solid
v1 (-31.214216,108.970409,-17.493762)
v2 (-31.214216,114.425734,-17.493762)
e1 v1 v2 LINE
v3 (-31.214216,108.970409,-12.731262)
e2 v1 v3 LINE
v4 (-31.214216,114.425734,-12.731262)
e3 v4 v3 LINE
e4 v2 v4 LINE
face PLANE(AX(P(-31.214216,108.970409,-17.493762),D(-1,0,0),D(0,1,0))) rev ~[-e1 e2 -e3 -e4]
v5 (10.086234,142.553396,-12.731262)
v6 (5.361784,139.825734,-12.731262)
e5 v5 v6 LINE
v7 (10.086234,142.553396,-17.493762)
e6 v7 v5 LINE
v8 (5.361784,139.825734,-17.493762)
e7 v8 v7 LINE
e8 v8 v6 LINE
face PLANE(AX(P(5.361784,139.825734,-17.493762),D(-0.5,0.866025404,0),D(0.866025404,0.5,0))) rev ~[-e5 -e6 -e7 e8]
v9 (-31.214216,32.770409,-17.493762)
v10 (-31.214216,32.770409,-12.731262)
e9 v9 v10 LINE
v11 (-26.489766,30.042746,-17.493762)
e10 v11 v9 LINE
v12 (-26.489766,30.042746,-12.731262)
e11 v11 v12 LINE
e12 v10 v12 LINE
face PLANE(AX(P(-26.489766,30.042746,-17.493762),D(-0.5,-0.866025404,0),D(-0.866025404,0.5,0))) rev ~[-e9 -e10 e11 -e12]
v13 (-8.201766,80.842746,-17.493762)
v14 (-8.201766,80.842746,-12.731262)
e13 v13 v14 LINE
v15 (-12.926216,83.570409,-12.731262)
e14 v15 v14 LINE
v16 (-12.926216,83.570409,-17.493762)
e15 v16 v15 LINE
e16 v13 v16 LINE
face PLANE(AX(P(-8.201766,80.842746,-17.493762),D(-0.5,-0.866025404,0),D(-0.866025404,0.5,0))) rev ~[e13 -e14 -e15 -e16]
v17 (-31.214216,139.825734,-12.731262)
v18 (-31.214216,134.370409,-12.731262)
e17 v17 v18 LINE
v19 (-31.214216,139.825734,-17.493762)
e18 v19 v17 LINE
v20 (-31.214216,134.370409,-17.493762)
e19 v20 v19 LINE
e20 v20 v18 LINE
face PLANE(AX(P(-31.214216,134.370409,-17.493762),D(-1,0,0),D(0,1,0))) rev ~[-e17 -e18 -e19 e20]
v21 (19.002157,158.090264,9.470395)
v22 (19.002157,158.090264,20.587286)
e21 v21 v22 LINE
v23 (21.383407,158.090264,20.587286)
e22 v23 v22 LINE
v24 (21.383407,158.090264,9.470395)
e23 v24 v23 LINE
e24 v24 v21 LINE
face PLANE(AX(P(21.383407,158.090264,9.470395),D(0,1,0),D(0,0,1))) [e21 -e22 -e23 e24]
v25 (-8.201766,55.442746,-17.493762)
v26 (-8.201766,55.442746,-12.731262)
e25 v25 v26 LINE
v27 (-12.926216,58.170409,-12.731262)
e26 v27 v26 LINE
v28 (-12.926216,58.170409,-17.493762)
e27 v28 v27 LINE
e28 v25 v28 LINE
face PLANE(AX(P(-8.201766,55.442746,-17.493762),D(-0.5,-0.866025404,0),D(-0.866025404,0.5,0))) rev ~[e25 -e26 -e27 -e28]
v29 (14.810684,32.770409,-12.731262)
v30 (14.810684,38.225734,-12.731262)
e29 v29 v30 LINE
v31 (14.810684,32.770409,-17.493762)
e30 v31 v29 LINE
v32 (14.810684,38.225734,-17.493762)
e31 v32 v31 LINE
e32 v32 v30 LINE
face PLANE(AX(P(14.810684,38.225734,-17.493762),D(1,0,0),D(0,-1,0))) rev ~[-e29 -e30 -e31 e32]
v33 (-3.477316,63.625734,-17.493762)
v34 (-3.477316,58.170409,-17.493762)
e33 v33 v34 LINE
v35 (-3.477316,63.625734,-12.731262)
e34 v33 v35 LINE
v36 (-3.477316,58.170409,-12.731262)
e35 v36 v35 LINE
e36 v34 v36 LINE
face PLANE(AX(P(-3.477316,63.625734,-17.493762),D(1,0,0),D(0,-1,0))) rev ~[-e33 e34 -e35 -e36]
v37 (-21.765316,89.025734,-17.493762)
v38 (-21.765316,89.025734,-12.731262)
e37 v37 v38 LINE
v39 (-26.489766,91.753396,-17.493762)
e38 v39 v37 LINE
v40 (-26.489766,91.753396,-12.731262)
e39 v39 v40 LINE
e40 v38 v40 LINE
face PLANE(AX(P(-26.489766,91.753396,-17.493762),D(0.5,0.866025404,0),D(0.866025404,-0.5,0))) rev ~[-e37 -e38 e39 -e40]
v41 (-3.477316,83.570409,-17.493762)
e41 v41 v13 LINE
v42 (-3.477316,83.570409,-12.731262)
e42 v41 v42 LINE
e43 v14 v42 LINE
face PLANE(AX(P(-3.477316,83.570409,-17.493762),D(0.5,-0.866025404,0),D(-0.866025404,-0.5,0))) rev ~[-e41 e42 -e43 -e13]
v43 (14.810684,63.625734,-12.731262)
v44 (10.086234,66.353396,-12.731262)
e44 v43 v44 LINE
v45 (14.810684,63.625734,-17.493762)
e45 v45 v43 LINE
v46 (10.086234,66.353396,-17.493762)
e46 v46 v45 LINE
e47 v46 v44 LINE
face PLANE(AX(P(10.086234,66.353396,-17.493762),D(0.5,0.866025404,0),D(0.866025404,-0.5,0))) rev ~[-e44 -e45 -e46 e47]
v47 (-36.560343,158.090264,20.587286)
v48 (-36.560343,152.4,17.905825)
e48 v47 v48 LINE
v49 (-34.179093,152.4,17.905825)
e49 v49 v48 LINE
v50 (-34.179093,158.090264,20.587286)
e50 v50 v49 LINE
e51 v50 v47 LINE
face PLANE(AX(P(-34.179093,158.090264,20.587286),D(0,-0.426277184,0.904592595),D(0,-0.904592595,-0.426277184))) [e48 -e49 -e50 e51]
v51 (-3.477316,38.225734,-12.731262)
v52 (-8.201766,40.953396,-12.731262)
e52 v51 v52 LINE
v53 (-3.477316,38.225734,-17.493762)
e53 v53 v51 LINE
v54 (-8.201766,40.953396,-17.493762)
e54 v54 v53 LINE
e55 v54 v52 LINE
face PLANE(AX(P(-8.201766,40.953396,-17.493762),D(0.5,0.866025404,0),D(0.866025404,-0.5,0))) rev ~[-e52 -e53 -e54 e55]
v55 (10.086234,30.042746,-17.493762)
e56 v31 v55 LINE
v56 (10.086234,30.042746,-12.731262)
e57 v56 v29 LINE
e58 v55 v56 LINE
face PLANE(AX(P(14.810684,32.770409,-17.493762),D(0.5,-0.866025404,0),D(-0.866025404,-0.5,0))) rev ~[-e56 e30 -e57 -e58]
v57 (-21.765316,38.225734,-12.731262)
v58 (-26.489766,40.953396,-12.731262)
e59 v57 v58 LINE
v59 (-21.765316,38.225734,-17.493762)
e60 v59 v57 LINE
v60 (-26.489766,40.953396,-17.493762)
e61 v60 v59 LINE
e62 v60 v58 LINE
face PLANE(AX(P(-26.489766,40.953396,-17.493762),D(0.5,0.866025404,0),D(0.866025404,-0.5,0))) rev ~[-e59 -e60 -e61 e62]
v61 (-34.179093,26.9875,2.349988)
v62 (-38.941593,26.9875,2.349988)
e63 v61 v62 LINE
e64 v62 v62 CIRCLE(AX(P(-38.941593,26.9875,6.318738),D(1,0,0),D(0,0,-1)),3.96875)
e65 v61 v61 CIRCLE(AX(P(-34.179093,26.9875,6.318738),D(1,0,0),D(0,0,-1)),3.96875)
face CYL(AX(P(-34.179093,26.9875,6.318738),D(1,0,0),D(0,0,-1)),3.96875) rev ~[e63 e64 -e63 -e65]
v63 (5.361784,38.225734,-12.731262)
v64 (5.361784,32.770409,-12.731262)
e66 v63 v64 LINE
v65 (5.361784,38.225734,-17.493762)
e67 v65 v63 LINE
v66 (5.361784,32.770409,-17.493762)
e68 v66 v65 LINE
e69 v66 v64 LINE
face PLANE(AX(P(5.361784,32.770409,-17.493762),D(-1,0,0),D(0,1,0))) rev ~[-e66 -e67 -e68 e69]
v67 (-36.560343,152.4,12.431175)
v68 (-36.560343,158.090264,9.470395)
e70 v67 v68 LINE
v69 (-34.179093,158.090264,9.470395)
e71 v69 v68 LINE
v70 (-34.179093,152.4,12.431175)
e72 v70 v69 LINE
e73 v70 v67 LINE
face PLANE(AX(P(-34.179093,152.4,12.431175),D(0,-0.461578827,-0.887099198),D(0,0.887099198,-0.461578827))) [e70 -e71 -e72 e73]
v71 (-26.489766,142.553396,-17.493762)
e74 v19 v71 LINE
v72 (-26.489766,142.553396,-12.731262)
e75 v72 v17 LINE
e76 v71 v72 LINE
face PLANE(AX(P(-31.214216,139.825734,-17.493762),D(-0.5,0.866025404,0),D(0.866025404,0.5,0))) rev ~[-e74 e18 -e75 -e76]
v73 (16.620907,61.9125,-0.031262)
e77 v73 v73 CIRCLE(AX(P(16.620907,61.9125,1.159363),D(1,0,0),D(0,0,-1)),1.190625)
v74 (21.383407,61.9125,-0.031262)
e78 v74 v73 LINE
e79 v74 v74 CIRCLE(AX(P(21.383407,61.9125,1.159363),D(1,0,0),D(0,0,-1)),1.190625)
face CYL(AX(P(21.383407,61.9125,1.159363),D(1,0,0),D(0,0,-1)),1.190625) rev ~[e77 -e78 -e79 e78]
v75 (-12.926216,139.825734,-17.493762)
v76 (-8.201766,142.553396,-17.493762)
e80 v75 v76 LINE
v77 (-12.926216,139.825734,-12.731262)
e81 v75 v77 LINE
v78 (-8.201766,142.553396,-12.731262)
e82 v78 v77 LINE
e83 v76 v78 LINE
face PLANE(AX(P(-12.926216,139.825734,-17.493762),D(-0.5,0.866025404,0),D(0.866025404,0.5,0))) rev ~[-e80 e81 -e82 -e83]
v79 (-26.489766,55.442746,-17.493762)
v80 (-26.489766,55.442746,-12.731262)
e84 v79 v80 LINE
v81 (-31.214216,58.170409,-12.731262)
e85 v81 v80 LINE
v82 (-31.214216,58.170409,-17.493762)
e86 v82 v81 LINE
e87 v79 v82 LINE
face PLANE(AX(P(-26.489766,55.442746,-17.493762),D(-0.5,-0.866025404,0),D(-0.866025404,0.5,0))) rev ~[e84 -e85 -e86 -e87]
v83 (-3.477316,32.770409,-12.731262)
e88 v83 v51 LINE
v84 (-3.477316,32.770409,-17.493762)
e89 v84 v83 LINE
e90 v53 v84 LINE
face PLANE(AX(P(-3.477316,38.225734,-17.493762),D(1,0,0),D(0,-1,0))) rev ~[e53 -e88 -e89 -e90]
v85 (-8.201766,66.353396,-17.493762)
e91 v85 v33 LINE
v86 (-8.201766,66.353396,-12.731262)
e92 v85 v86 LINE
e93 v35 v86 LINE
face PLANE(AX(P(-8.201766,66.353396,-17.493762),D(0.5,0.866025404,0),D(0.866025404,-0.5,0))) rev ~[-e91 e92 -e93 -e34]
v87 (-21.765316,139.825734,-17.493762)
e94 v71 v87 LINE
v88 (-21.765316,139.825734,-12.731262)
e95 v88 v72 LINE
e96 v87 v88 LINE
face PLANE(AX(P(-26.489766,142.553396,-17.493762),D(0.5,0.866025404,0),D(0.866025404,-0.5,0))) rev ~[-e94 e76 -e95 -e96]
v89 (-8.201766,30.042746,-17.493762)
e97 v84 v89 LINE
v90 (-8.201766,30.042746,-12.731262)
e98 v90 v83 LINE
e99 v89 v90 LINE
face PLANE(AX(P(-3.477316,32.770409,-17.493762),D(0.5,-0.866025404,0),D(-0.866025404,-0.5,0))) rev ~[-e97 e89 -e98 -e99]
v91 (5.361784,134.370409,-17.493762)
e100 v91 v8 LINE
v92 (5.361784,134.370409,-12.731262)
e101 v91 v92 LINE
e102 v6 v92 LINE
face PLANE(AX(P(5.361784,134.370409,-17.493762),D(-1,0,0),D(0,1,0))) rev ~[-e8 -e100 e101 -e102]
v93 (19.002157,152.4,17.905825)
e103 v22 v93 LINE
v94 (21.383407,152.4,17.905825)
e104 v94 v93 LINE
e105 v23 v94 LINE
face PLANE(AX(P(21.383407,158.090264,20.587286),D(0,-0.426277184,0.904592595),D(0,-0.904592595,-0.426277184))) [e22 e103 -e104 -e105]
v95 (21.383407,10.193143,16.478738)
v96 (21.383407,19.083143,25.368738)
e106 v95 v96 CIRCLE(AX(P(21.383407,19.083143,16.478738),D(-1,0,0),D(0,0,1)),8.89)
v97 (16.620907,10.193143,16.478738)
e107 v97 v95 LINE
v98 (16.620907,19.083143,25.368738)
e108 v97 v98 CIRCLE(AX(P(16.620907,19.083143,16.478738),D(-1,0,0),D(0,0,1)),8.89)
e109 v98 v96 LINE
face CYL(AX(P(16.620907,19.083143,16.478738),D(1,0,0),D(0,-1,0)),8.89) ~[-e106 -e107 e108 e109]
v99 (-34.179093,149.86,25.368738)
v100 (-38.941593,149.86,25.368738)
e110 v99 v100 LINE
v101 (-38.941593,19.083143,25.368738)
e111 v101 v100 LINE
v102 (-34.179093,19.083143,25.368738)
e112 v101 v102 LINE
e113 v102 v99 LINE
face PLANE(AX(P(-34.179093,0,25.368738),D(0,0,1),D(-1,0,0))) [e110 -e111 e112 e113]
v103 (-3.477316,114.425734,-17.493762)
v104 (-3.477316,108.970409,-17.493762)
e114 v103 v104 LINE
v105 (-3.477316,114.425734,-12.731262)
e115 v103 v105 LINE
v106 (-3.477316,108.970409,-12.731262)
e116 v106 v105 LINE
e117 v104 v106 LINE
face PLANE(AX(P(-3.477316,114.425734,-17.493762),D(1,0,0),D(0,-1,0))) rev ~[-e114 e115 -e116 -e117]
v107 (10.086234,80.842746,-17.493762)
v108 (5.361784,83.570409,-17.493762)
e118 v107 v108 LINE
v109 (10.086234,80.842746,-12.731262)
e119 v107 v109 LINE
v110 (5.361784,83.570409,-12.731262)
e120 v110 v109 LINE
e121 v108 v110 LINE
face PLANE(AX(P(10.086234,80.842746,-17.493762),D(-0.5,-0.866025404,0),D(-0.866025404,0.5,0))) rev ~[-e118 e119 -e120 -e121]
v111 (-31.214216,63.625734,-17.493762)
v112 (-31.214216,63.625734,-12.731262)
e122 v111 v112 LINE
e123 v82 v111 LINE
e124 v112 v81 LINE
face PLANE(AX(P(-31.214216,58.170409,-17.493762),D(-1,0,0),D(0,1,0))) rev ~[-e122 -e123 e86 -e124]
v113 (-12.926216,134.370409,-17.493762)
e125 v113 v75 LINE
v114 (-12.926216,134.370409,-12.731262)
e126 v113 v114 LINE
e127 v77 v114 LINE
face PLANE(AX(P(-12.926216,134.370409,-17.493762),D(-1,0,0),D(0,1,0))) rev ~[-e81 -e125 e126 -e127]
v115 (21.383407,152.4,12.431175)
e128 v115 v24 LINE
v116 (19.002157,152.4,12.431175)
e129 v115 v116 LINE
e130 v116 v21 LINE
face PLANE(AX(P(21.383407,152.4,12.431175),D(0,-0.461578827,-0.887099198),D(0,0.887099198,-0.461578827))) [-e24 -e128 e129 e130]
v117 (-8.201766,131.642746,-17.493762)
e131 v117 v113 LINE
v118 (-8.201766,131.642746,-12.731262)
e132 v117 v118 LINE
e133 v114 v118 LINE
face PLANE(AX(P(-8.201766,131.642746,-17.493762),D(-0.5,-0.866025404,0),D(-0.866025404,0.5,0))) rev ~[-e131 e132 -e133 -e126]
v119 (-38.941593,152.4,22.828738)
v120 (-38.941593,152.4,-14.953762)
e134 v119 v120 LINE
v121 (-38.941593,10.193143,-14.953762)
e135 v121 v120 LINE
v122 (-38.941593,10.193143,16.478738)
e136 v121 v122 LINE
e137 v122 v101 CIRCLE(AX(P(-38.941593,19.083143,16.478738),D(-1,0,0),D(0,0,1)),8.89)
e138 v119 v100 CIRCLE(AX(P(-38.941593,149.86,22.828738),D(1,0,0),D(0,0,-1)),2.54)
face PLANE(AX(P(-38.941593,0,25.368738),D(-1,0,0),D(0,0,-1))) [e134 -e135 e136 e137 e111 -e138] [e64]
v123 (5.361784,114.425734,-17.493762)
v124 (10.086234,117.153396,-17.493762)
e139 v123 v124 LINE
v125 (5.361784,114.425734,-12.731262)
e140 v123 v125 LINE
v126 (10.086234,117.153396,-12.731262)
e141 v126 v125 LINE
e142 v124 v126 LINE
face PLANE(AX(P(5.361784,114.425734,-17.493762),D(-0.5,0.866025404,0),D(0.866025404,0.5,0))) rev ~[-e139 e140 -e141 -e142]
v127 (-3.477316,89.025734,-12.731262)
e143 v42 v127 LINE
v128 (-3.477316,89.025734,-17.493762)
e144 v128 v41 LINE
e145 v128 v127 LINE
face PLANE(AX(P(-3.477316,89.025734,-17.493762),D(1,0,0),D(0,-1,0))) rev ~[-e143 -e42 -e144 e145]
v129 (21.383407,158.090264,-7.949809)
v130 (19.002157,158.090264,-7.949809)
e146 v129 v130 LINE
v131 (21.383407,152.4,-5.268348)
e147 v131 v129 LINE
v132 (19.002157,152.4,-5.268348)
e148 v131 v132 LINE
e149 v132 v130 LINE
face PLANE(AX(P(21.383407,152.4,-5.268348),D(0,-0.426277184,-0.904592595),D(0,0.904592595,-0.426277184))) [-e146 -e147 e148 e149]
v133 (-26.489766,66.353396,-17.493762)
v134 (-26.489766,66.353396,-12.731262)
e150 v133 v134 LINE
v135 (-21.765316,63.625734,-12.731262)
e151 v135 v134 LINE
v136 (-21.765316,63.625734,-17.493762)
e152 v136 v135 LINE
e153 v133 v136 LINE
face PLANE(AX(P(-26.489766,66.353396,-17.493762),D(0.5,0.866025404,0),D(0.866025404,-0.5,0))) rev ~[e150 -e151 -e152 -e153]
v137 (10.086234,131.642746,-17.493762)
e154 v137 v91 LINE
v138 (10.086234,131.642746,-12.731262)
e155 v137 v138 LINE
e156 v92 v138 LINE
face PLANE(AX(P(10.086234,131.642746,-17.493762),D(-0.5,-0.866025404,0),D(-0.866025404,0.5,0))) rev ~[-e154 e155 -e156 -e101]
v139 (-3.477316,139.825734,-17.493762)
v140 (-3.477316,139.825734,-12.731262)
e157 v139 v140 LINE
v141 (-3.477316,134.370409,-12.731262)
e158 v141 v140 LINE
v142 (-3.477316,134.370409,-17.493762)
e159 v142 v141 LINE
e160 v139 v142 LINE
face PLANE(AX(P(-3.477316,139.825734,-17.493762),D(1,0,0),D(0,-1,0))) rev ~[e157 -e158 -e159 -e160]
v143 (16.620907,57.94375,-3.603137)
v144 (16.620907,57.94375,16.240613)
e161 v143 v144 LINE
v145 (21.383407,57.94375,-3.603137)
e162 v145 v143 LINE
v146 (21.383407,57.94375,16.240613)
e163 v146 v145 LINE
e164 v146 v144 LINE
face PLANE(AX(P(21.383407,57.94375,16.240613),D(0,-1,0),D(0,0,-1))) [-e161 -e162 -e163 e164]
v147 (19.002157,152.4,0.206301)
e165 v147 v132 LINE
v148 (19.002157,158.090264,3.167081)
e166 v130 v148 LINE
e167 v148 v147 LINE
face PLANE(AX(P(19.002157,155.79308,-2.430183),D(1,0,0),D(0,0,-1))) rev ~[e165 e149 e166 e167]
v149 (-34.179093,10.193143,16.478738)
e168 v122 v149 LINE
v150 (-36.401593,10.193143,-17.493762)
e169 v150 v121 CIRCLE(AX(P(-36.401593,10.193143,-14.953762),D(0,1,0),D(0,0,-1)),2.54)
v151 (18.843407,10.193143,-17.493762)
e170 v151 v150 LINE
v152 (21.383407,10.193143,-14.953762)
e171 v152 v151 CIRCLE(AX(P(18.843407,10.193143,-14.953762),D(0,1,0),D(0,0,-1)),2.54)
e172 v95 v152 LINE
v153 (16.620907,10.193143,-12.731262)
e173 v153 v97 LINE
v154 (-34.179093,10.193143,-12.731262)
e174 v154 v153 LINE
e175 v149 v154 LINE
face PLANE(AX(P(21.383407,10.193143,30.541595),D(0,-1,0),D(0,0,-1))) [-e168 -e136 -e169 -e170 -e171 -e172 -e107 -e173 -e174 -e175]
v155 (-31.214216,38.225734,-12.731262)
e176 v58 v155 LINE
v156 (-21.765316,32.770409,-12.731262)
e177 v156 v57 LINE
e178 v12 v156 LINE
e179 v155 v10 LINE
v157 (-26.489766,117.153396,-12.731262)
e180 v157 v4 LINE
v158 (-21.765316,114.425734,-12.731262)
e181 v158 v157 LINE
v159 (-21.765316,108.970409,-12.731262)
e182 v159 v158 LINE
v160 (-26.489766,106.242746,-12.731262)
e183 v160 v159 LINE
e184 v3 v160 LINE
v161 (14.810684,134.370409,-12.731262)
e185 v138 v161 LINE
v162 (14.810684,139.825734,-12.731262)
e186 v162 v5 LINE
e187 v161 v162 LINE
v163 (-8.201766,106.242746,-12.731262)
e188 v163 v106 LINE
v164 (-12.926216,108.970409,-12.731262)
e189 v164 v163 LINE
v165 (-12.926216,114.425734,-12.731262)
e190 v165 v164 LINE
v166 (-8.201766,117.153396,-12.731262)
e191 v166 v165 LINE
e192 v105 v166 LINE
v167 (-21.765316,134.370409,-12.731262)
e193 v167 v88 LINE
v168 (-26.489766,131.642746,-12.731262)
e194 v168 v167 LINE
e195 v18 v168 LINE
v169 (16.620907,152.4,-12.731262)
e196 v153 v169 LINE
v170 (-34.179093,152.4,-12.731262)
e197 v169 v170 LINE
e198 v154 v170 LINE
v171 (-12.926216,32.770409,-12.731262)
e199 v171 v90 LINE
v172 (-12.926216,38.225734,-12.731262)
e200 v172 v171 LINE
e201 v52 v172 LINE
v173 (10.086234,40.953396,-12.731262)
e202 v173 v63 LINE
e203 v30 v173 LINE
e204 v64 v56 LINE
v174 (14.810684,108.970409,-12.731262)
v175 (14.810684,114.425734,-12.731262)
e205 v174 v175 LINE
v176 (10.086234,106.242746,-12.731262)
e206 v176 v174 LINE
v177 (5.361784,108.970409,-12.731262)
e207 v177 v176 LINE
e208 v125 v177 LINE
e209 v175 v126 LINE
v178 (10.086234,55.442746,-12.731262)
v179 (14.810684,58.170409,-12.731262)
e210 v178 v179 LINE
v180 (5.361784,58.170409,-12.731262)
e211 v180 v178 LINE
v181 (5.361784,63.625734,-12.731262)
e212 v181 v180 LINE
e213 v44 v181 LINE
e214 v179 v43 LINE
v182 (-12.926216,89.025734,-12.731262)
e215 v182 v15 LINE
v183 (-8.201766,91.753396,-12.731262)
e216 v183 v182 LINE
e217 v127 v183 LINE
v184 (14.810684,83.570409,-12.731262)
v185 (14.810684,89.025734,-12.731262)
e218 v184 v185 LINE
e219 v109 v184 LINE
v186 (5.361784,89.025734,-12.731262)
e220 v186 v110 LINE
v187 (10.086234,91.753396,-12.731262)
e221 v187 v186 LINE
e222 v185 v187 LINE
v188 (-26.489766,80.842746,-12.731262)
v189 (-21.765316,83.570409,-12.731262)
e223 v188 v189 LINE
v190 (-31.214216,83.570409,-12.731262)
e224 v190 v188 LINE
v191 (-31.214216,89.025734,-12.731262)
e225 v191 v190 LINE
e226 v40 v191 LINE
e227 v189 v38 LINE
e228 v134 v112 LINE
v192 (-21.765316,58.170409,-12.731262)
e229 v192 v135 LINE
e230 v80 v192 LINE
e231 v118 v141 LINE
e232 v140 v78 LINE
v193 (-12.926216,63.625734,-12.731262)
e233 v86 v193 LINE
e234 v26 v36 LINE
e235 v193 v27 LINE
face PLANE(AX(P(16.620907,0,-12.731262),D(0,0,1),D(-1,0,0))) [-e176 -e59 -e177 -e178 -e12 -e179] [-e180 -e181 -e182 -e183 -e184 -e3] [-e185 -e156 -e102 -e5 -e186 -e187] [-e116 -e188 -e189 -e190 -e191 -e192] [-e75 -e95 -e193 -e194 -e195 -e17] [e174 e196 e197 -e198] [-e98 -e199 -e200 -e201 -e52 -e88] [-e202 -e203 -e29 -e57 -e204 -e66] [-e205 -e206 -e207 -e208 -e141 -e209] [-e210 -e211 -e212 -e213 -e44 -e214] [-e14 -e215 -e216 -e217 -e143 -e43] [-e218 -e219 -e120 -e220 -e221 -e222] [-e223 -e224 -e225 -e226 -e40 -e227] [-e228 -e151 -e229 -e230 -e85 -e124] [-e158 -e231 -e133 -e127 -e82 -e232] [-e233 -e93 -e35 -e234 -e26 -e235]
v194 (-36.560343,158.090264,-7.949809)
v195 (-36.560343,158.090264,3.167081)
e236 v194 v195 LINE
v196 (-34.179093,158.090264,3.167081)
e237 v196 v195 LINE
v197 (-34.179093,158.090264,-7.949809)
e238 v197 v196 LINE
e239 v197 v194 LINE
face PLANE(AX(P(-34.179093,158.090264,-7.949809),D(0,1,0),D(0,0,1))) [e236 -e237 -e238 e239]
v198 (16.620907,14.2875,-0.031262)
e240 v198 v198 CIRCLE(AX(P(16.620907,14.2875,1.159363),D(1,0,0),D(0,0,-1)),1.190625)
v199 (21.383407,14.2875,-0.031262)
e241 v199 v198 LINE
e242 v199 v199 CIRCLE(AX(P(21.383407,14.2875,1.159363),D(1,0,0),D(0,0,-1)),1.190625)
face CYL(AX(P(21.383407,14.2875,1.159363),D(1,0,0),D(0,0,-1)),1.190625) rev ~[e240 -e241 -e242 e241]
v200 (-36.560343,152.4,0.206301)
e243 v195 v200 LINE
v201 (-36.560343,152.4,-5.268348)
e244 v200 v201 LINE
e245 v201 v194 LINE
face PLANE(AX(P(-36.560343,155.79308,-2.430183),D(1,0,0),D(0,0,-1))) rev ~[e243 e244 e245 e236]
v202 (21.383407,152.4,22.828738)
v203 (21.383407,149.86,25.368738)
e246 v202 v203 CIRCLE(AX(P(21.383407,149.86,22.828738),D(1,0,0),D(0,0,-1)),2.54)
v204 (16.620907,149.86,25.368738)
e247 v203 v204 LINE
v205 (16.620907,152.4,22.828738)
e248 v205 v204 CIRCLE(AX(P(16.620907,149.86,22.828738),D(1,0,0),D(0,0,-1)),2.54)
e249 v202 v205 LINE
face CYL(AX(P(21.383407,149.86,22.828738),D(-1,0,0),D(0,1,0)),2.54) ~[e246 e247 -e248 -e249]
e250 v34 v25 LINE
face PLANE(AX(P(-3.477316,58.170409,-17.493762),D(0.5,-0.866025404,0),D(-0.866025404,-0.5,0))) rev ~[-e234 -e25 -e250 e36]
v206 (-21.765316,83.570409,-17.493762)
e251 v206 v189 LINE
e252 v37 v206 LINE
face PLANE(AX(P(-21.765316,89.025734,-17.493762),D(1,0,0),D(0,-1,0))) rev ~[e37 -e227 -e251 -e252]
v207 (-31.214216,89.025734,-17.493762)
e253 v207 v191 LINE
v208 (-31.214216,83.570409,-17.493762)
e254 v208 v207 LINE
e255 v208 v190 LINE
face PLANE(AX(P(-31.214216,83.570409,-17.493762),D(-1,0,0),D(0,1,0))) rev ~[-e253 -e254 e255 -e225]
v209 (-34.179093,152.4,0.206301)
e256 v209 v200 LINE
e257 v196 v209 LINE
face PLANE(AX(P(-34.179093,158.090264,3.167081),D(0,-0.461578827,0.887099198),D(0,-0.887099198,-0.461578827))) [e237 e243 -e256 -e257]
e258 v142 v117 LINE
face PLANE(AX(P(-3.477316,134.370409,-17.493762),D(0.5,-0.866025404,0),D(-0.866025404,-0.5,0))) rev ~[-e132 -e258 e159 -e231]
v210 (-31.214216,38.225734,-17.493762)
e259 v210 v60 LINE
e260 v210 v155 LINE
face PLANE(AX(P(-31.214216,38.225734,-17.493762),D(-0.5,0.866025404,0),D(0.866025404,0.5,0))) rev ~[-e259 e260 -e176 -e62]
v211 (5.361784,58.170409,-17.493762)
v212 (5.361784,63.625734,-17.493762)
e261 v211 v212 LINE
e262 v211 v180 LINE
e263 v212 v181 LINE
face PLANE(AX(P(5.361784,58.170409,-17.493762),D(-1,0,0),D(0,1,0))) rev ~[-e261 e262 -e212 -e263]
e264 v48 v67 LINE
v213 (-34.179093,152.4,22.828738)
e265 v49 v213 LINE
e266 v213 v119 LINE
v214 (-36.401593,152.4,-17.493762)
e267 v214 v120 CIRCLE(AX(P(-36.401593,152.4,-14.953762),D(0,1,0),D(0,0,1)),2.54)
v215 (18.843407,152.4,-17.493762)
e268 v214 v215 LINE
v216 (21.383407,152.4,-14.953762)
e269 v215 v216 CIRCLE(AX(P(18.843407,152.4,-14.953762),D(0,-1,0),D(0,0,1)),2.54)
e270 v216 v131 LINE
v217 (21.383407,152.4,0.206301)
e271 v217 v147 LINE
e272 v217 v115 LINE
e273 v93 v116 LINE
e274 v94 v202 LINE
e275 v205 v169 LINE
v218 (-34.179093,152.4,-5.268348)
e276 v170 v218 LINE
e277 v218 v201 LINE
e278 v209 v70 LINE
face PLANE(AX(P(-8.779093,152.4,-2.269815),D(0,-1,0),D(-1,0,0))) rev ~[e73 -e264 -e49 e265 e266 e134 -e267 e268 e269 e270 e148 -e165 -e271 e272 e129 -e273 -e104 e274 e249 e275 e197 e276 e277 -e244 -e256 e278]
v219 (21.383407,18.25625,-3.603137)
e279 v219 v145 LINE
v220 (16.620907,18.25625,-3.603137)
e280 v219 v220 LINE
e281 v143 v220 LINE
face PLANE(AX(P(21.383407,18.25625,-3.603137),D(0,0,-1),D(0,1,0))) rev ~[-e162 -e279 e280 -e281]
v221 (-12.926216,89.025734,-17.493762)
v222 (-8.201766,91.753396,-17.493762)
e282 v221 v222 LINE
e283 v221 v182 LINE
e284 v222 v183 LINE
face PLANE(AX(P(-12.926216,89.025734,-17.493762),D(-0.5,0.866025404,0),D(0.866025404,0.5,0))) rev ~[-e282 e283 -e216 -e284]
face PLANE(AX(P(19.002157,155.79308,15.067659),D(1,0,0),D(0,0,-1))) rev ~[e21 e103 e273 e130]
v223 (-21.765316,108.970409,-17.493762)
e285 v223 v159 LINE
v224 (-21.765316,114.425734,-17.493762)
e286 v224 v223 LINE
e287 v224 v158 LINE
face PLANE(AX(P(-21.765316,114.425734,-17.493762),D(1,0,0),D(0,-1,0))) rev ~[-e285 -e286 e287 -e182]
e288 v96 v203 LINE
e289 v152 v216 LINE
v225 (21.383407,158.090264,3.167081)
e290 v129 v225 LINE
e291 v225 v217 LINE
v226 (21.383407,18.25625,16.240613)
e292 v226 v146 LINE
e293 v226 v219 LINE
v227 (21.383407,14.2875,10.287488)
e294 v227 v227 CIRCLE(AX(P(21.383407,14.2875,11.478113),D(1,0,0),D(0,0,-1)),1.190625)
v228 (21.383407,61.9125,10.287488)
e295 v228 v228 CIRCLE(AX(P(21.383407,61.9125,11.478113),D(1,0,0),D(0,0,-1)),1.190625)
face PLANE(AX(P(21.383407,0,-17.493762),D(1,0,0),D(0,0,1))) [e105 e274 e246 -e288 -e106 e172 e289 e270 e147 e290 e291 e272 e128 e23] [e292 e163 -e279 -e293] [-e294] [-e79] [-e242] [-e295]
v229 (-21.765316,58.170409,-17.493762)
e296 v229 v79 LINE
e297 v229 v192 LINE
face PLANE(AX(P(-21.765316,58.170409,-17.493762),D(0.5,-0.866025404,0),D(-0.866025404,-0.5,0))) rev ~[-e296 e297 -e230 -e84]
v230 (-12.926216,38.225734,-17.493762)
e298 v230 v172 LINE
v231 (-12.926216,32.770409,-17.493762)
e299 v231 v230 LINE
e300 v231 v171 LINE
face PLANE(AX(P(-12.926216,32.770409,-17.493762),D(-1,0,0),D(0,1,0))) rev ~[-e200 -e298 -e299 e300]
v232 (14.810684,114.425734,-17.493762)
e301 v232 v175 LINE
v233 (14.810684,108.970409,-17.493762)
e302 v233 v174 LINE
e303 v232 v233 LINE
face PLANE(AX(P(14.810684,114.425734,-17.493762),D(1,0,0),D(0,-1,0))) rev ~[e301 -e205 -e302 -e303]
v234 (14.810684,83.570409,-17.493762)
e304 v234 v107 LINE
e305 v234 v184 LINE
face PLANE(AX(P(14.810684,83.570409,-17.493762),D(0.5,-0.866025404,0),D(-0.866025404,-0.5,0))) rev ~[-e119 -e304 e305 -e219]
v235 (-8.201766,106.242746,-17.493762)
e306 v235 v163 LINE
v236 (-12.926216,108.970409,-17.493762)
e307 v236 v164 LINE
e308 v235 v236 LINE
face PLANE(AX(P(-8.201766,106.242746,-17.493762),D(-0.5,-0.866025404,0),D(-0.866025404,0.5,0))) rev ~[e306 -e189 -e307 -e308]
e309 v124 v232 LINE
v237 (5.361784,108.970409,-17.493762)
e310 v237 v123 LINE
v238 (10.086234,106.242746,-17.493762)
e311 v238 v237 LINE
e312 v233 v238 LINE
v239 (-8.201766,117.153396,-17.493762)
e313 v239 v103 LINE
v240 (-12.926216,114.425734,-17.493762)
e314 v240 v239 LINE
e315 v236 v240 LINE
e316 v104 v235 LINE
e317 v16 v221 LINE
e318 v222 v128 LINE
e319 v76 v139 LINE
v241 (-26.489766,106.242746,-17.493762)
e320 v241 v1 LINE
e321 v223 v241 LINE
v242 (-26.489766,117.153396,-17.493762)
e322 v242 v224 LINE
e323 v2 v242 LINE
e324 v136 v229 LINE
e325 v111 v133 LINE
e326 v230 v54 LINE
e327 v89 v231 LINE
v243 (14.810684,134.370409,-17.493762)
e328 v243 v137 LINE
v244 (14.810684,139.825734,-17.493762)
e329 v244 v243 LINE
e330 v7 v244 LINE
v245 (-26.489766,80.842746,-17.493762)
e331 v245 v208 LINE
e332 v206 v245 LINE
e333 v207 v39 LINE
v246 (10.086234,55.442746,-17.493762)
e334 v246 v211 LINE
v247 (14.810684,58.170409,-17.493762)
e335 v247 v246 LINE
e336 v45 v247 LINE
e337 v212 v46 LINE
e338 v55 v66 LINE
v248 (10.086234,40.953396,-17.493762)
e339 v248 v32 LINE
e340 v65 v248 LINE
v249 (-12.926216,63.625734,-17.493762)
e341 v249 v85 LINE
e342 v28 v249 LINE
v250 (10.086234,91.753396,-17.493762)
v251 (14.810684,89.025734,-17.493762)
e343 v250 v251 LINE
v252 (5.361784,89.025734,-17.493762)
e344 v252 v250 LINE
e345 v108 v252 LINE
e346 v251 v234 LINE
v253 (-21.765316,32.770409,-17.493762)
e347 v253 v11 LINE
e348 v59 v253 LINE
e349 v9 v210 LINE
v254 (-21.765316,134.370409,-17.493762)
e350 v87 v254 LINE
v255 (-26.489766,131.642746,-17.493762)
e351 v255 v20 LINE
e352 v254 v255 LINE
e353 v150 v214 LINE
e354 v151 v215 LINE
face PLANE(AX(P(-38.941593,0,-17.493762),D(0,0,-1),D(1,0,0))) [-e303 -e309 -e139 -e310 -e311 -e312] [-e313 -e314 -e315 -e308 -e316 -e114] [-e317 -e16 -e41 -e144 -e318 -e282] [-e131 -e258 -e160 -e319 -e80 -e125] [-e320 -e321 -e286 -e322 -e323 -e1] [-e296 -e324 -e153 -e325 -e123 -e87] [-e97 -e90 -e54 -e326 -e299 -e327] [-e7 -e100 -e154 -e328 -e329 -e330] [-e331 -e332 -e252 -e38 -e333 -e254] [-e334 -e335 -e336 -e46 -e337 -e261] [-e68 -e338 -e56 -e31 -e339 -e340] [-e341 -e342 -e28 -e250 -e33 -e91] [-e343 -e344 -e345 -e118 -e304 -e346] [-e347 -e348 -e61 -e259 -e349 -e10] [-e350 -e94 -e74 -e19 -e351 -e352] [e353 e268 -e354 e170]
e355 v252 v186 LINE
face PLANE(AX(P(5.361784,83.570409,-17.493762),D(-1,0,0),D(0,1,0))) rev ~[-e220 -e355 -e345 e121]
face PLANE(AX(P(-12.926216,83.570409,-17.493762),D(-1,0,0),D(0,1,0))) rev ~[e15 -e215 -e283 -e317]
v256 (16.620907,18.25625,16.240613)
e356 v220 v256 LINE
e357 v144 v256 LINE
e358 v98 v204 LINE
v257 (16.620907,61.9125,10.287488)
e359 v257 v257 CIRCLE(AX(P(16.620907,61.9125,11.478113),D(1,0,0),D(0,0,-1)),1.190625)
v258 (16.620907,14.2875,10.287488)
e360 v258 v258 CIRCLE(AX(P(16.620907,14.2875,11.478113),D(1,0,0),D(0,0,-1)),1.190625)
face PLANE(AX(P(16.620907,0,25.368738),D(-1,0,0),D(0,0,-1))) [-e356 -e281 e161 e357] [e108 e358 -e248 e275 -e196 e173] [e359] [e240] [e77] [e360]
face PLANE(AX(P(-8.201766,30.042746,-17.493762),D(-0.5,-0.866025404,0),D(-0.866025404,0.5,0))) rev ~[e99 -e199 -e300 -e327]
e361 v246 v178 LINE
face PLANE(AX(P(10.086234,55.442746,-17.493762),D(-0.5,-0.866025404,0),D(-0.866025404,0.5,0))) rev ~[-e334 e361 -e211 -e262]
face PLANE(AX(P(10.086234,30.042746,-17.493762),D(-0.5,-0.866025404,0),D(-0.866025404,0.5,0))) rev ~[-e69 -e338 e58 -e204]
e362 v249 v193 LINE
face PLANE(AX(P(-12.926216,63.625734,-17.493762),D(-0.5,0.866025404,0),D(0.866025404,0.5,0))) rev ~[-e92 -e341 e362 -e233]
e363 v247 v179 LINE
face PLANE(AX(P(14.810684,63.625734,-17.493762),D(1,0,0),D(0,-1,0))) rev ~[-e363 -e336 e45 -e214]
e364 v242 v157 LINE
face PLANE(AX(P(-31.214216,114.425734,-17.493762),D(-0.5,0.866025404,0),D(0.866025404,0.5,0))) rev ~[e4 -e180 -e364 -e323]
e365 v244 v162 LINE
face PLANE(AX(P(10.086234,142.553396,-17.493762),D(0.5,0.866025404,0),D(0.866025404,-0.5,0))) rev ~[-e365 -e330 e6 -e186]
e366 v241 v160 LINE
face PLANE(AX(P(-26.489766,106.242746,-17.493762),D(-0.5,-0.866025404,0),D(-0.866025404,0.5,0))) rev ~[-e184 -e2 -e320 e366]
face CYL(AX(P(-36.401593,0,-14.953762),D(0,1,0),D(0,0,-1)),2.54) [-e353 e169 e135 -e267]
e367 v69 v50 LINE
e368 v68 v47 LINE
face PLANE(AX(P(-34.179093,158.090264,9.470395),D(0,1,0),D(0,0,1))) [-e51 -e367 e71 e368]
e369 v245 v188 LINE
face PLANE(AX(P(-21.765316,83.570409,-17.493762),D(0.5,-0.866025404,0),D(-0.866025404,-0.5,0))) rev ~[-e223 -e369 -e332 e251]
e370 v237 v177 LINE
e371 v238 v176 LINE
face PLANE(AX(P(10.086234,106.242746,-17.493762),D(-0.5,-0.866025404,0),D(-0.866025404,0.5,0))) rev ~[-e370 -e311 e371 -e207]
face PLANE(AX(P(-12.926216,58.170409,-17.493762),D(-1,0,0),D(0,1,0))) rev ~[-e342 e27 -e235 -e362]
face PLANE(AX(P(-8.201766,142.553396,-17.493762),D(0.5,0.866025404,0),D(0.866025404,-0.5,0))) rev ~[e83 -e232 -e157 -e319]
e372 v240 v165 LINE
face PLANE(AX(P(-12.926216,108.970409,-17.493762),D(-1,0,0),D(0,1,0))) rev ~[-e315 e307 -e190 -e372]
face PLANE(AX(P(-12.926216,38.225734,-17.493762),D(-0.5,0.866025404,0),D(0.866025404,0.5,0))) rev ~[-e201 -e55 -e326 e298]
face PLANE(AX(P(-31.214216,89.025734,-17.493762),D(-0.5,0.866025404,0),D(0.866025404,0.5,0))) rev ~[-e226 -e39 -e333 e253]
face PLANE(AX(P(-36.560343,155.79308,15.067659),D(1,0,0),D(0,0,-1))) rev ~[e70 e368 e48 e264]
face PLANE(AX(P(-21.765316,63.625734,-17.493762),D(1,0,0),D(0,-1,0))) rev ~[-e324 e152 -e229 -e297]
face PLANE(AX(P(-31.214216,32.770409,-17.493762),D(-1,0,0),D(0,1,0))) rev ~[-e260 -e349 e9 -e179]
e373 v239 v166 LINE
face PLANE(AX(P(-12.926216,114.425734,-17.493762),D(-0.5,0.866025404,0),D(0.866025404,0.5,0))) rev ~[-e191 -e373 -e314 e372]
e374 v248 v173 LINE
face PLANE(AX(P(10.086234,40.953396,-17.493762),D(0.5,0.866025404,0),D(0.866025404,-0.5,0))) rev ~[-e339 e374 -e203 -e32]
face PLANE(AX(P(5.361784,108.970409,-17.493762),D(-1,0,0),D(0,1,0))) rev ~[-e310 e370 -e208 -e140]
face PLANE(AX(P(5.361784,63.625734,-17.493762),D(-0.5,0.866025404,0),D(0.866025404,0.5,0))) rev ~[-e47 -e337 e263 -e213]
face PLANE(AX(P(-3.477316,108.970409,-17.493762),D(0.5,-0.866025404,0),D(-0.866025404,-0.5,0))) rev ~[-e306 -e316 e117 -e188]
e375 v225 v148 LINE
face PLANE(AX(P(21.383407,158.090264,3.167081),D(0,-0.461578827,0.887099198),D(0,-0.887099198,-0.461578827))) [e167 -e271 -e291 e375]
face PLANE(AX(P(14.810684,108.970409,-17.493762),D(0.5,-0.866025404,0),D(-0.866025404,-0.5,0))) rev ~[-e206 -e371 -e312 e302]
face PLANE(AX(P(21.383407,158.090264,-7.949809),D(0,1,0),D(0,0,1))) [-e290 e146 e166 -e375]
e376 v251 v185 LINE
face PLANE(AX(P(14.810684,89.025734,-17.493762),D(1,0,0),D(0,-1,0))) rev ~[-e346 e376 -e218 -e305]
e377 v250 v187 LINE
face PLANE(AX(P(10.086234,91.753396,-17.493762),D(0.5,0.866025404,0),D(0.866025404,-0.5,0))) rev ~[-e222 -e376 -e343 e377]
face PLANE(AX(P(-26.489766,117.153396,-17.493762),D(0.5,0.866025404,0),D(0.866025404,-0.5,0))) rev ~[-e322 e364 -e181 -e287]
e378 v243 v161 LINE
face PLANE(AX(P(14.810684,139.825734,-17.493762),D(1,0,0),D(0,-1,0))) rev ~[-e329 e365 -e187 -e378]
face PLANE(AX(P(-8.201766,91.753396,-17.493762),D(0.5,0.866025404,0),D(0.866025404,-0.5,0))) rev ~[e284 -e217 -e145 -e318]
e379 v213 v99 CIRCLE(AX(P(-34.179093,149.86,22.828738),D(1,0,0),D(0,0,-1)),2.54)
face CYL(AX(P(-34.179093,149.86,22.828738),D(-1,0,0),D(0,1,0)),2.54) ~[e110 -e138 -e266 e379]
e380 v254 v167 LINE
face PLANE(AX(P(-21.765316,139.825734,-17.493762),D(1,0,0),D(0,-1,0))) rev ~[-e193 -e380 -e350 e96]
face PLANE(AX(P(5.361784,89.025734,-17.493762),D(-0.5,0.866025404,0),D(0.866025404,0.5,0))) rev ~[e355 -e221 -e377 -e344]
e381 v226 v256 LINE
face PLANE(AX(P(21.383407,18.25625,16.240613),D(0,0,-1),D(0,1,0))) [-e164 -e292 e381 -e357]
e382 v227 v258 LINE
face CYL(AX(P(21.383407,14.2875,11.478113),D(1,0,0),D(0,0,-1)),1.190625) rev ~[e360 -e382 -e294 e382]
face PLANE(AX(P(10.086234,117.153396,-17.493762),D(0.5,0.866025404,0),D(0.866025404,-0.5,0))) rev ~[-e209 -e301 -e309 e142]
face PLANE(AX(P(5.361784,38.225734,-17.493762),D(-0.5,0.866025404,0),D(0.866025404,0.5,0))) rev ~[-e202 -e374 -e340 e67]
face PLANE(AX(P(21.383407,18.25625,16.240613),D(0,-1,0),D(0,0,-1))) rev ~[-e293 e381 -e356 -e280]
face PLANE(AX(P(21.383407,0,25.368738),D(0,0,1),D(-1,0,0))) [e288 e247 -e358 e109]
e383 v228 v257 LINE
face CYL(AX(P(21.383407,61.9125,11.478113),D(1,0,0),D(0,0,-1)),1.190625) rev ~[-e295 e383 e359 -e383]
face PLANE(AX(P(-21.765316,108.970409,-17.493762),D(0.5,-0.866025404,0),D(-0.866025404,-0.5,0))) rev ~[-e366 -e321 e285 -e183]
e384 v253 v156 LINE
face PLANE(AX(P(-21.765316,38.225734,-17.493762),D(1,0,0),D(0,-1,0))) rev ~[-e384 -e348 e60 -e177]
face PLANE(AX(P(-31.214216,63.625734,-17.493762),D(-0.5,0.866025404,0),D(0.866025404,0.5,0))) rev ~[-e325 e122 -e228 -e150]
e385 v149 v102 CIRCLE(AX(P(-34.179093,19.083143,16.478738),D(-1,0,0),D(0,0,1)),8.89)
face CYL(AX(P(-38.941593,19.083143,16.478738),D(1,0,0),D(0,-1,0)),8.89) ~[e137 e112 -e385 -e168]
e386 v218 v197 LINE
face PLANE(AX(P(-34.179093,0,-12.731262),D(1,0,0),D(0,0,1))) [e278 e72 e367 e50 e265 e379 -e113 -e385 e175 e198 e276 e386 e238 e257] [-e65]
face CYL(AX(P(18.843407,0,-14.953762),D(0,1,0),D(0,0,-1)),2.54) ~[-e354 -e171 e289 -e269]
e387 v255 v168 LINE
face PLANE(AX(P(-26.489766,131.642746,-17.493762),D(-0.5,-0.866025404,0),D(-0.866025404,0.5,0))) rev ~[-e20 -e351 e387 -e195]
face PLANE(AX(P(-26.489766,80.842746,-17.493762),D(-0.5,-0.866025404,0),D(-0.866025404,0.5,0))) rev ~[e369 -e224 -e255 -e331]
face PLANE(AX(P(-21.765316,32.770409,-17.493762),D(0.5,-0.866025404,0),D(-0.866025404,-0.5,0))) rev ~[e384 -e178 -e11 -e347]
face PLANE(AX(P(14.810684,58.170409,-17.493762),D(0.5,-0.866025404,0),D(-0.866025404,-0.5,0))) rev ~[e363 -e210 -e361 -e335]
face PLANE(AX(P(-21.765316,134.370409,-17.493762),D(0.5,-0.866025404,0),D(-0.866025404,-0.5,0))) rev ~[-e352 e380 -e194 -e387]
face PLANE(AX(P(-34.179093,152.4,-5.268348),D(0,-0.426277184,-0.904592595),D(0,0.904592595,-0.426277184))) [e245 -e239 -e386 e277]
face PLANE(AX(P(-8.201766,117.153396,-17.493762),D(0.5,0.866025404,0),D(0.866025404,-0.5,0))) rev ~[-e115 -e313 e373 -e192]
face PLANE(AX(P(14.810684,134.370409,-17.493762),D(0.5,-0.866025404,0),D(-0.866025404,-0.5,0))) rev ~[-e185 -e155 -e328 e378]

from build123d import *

# Parameters (mm, degrees)
BOSS_EXTRUDE1_DEPTH = 152.4
SKETCH2_R           = 1.190625
SKETCH2_W           = 19.84375
SKETCH2_H           = 39.6875
CUT_EXTRUDE1_DEPTH  = 6.35
CUT_EXTRUDE2_DEPTH  = 2.38125
CUT_EXTRUDE3_DEPTH  = 2.38125
BOSS_EXTRUDE2_DEPTH = 2.38125
BOSS_EXTRUDE3_DEPTH = 2.38125
FILLET1_R           = 2.54
SKETCH7_W           = 51.674409632
SKETCH7_H           = 14.688438898
CUT_EXTRUDE4_DEPTH  = 172.100000261
FILLET2_R           = 8.89
SKETCH8_R           = 3.96875
CUT_EXTRUDE5_DEPTH  = 170.479485102
CUT_EXTRUDE6_DEPTH  = 169.363218031


with BuildPart() as part:
    # Sketch1 → Boss-Extrude1 (new body)
    with BuildSketch(Plane(origin=(0, 0, 0), x_dir=(1, 0, 0), z_dir=(0, 1, 0))):
        Polygon((-38.941593287, 17.493761907), (21.383406713, 17.493761907), (21.383406713, -25.368738093), (16.620906713, -25.368738093), (16.620906713, 12.731261907), (-34.179093287, 12.731261907), (-34.179093287, -25.368738093), (-38.941593287, -25.368738093), align=None)
    extrude(amount=BOSS_EXTRUDE1_DEPTH)

    # Sketch2 → Cut-Extrude1 (cut)
    with BuildSketch(Plane(origin=(21.383406713, 0, 0), x_dir=(0, 0, -1), z_dir=(1, 0, 0))):
        with Locations((-11.478113093, 14.2875)):
            Circle(SKETCH2_R)
        with Locations((-1.159363093, 14.2875)):
            Circle(SKETCH2_R)
        with Locations((-1.159363093, 61.9125)):
            Circle(SKETCH2_R)
        with Locations((-11.478113093, 61.9125)):
            Circle(SKETCH2_R)
        with Locations((-6.318738093, 38.1)):
            Rectangle(SKETCH2_W, SKETCH2_H)
    extrude(amount=-CUT_EXTRUDE1_DEPTH, mode=Mode.SUBTRACT)

    # Sketch3 → Cut-Extrude2 (cut)
    with BuildSketch(Plane(origin=(21.383406713, 0, 0), x_dir=(0, 0, -1), z_dir=(1, 0, 0))):
        Polygon((-20.587285527, 5.690264064), (-9.47039523, 5.690264064), (-12.431175058, 0), (-17.905824551, 0), align=None)
        Polygon((-0.206301127, 0), (5.268348366, 0), (7.949809342, 5.690264064), (-3.167080955, 5.690264064), align=None)
    extrude(amount=-CUT_EXTRUDE2_DEPTH, mode=Mode.SUBTRACT)

    # Sketch4 → Cut-Extrude3 (cut)
    with BuildSketch(Plane(origin=(-34.179093287, 0, 0), x_dir=(0, 0, -1), z_dir=(1, 0, 0))):
        Polygon((-9.47039523, 5.690264064), (-20.587285527, 5.690264064), (-17.905824551, 0), (-12.431175058, 0), align=None)
        Polygon((5.268348366, 0), (7.949809342, 5.690264064), (-3.167080955, 5.690264064), (-0.206301127, 0), align=None)
    extrude(amount=-CUT_EXTRUDE3_DEPTH, mode=Mode.SUBTRACT)

    # Sketch5 → Boss-Extrude2 (add)
    with BuildSketch(Plane(origin=(21.383406713, 0, 0), x_dir=(0, 0, -1), z_dir=(1, 0, 0))):
        Polygon((-0.206301127, 152.4), (5.268348366, 152.4), (7.949809342, 158.090264064), (-3.167080955, 158.090264064), align=None)
        Polygon((-17.905824551, 152.4), (-12.431175058, 152.4), (-9.47039523, 158.090264064), (-20.587285527, 158.090264064), align=None)
    extrude(amount=-BOSS_EXTRUDE2_DEPTH)

    # Sketch6 → Boss-Extrude3 (add)
    with BuildSketch(Plane(origin=(-34.179093287, 0, 0), x_dir=(0, 0, -1), z_dir=(1, 0, 0))):
        Polygon((-17.905824551, 152.4), (-12.431175058, 152.4), (-9.47039523, 158.090264064), (-20.587285527, 158.090264064), align=None)
        Polygon((5.268348366, 152.4), (7.949809342, 158.090264064), (-3.167080955, 158.090264064), (-0.206301127, 152.4), align=None)
    extrude(amount=-BOSS_EXTRUDE3_DEPTH)

    # Fillet1
    fillet1_edges = [part.edges().sort_by_distance(p)[0] for p in [
        (-36.560343287, 0, 25.368738093),
        (-38.941593287, 76.2, -17.493761907),
        (21.383406713, 76.2, -17.493761907),
        (19.002156713, 152.4, 25.368738093),
        (-36.560343287, 152.4, 25.368738093),
        (19.002156713, 0, 25.368738093),
    ]]
    fillet(fillet1_edges, radius=FILLET1_R)

    # Sketch7 → Cut-Extrude4 (cut, through all)
    with BuildSketch(Plane(origin=(21.383406713, 0, 0), x_dir=(0, 0, -1), z_dir=(1, 0, 0))):
        with Locations((-4.704390425, 2.848923491)):
            Rectangle(SKETCH7_W, SKETCH7_H)
    extrude(amount=-CUT_EXTRUDE4_DEPTH, mode=Mode.SUBTRACT)

    # Fillet2
    fillet2_edges = [part.edges().sort_by_distance(p)[0] for p in [
        (-36.560343287, 10.19314294, 25.368738093),
        (19.002156713, 10.19314294, 25.368738093),
    ]]
    fillet(fillet2_edges, radius=FILLET2_R)

    # Sketch8 → Cut-Extrude5 (cut, through all)
    with BuildSketch(Plane(origin=(-34.179093287, 0, 0), x_dir=(0, 0, -1), z_dir=(1, 0, 0))):
        with Locations((-6.318738093, 26.9875)):
            Circle(SKETCH8_R)
    extrude(amount=-CUT_EXTRUDE5_DEPTH, mode=Mode.SUBTRACT)

    # Sketch9 → Cut-Extrude6 (cut, through all)
    with BuildSketch(Plane(origin=(0, 0, -17.493761907), x_dir=(-1, 0, 0), z_dir=(0, 0, -1))):
        Polygon((8.201765803, 131.642746086), (12.926215978, 134.370408666), (12.926215978, 139.825733827), (8.201765803, 142.553396407), (3.477315628, 139.825733827), (3.477315628, 134.370408666), align=None)
        Polygon((-10.086234197, 131.642746086), (-5.361784022, 134.370408666), (-5.361784022, 139.825733827), (-10.086234197, 142.553396407), (-14.810684372, 139.825733827), (-14.810684372, 134.370408666), align=None)
        Polygon((26.489765803, 131.642746086), (31.214215978, 134.370408666), (31.214215978, 139.825733827), (26.489765803, 142.553396407), (21.765315628, 139.825733827), (21.765315628, 134.370408666), align=None)
        Polygon((8.201765803, 106.242746086), (12.926215978, 108.970408666), (12.926215978, 114.425733827), (8.201765803, 117.153396407), (3.477315628, 114.425733827), (3.477315628, 108.970408666), align=None)
        Polygon((26.489765803, 106.242746086), (31.214215978, 108.970408666), (31.214215978, 114.425733827), (26.489765803, 117.153396407), (21.765315628, 114.425733827), (21.765315628, 108.970408666), align=None)
        Polygon((8.201765803, 80.842746086), (12.926215978, 83.570408666), (12.926215978, 89.025733827), (8.201765803, 91.753396407), (3.477315628, 89.025733827), (3.477315628, 83.570408666), align=None)
        Polygon((26.489765803, 80.842746086), (31.214215978, 83.570408666), (31.214215978, 89.025733827), (26.489765803, 91.753396407), (21.765315628, 89.025733827), (21.765315628, 83.570408666), align=None)
        Polygon((8.201765803, 55.442746086), (12.926215978, 58.170408666), (12.926215978, 63.625733827), (8.201765803, 66.353396407), (3.477315628, 63.625733827), (3.477315628, 58.170408666), align=None)
        Polygon((26.489765803, 55.442746086), (31.214215978, 58.170408666), (31.214215978, 63.625733827), (26.489765803, 66.353396407), (21.765315628, 63.625733827), (21.765315628, 58.170408666), align=None)
        Polygon((8.201765803, 30.042746086), (12.926215978, 32.770408666), (12.926215978, 38.225733827), (8.201765803, 40.953396407), (3.477315628, 38.225733827), (3.477315628, 32.770408666), align=None)
        Polygon((26.489765803, 30.042746086), (31.214215978, 32.770408666), (31.214215978, 38.225733827), (26.489765803, 40.953396407), (21.765315628, 38.225733827), (21.765315628, 32.770408666), align=None)
        Polygon((-10.086234197, 106.242746086), (-5.361784022, 108.970408666), (-5.361784022, 114.425733827), (-10.086234197, 117.153396407), (-14.810684372, 114.425733827), (-14.810684372, 108.970408666), align=None)
        Polygon((-10.086234197, 80.842746086), (-5.361784022, 83.570408666), (-5.361784022, 89.025733827), (-10.086234197, 91.753396407), (-14.810684372, 89.025733827), (-14.810684372, 83.570408666), align=None)
        Polygon((-10.086234197, 55.442746086), (-5.361784022, 58.170408666), (-5.361784022, 63.625733827), (-10.086234197, 66.353396407), (-14.810684372, 63.625733827), (-14.810684372, 58.170408666), align=None)
        Polygon((-10.086234197, 30.042746086), (-5.361784022, 32.770408666), (-5.361784022, 38.225733827), (-10.086234197, 40.953396407), (-14.810684372, 38.225733827), (-14.810684372, 32.770408666), align=None)
    extrude(amount=-CUT_EXTRUDE6_DEPTH, mode=Mode.SUBTRACT)


solid = part.part
